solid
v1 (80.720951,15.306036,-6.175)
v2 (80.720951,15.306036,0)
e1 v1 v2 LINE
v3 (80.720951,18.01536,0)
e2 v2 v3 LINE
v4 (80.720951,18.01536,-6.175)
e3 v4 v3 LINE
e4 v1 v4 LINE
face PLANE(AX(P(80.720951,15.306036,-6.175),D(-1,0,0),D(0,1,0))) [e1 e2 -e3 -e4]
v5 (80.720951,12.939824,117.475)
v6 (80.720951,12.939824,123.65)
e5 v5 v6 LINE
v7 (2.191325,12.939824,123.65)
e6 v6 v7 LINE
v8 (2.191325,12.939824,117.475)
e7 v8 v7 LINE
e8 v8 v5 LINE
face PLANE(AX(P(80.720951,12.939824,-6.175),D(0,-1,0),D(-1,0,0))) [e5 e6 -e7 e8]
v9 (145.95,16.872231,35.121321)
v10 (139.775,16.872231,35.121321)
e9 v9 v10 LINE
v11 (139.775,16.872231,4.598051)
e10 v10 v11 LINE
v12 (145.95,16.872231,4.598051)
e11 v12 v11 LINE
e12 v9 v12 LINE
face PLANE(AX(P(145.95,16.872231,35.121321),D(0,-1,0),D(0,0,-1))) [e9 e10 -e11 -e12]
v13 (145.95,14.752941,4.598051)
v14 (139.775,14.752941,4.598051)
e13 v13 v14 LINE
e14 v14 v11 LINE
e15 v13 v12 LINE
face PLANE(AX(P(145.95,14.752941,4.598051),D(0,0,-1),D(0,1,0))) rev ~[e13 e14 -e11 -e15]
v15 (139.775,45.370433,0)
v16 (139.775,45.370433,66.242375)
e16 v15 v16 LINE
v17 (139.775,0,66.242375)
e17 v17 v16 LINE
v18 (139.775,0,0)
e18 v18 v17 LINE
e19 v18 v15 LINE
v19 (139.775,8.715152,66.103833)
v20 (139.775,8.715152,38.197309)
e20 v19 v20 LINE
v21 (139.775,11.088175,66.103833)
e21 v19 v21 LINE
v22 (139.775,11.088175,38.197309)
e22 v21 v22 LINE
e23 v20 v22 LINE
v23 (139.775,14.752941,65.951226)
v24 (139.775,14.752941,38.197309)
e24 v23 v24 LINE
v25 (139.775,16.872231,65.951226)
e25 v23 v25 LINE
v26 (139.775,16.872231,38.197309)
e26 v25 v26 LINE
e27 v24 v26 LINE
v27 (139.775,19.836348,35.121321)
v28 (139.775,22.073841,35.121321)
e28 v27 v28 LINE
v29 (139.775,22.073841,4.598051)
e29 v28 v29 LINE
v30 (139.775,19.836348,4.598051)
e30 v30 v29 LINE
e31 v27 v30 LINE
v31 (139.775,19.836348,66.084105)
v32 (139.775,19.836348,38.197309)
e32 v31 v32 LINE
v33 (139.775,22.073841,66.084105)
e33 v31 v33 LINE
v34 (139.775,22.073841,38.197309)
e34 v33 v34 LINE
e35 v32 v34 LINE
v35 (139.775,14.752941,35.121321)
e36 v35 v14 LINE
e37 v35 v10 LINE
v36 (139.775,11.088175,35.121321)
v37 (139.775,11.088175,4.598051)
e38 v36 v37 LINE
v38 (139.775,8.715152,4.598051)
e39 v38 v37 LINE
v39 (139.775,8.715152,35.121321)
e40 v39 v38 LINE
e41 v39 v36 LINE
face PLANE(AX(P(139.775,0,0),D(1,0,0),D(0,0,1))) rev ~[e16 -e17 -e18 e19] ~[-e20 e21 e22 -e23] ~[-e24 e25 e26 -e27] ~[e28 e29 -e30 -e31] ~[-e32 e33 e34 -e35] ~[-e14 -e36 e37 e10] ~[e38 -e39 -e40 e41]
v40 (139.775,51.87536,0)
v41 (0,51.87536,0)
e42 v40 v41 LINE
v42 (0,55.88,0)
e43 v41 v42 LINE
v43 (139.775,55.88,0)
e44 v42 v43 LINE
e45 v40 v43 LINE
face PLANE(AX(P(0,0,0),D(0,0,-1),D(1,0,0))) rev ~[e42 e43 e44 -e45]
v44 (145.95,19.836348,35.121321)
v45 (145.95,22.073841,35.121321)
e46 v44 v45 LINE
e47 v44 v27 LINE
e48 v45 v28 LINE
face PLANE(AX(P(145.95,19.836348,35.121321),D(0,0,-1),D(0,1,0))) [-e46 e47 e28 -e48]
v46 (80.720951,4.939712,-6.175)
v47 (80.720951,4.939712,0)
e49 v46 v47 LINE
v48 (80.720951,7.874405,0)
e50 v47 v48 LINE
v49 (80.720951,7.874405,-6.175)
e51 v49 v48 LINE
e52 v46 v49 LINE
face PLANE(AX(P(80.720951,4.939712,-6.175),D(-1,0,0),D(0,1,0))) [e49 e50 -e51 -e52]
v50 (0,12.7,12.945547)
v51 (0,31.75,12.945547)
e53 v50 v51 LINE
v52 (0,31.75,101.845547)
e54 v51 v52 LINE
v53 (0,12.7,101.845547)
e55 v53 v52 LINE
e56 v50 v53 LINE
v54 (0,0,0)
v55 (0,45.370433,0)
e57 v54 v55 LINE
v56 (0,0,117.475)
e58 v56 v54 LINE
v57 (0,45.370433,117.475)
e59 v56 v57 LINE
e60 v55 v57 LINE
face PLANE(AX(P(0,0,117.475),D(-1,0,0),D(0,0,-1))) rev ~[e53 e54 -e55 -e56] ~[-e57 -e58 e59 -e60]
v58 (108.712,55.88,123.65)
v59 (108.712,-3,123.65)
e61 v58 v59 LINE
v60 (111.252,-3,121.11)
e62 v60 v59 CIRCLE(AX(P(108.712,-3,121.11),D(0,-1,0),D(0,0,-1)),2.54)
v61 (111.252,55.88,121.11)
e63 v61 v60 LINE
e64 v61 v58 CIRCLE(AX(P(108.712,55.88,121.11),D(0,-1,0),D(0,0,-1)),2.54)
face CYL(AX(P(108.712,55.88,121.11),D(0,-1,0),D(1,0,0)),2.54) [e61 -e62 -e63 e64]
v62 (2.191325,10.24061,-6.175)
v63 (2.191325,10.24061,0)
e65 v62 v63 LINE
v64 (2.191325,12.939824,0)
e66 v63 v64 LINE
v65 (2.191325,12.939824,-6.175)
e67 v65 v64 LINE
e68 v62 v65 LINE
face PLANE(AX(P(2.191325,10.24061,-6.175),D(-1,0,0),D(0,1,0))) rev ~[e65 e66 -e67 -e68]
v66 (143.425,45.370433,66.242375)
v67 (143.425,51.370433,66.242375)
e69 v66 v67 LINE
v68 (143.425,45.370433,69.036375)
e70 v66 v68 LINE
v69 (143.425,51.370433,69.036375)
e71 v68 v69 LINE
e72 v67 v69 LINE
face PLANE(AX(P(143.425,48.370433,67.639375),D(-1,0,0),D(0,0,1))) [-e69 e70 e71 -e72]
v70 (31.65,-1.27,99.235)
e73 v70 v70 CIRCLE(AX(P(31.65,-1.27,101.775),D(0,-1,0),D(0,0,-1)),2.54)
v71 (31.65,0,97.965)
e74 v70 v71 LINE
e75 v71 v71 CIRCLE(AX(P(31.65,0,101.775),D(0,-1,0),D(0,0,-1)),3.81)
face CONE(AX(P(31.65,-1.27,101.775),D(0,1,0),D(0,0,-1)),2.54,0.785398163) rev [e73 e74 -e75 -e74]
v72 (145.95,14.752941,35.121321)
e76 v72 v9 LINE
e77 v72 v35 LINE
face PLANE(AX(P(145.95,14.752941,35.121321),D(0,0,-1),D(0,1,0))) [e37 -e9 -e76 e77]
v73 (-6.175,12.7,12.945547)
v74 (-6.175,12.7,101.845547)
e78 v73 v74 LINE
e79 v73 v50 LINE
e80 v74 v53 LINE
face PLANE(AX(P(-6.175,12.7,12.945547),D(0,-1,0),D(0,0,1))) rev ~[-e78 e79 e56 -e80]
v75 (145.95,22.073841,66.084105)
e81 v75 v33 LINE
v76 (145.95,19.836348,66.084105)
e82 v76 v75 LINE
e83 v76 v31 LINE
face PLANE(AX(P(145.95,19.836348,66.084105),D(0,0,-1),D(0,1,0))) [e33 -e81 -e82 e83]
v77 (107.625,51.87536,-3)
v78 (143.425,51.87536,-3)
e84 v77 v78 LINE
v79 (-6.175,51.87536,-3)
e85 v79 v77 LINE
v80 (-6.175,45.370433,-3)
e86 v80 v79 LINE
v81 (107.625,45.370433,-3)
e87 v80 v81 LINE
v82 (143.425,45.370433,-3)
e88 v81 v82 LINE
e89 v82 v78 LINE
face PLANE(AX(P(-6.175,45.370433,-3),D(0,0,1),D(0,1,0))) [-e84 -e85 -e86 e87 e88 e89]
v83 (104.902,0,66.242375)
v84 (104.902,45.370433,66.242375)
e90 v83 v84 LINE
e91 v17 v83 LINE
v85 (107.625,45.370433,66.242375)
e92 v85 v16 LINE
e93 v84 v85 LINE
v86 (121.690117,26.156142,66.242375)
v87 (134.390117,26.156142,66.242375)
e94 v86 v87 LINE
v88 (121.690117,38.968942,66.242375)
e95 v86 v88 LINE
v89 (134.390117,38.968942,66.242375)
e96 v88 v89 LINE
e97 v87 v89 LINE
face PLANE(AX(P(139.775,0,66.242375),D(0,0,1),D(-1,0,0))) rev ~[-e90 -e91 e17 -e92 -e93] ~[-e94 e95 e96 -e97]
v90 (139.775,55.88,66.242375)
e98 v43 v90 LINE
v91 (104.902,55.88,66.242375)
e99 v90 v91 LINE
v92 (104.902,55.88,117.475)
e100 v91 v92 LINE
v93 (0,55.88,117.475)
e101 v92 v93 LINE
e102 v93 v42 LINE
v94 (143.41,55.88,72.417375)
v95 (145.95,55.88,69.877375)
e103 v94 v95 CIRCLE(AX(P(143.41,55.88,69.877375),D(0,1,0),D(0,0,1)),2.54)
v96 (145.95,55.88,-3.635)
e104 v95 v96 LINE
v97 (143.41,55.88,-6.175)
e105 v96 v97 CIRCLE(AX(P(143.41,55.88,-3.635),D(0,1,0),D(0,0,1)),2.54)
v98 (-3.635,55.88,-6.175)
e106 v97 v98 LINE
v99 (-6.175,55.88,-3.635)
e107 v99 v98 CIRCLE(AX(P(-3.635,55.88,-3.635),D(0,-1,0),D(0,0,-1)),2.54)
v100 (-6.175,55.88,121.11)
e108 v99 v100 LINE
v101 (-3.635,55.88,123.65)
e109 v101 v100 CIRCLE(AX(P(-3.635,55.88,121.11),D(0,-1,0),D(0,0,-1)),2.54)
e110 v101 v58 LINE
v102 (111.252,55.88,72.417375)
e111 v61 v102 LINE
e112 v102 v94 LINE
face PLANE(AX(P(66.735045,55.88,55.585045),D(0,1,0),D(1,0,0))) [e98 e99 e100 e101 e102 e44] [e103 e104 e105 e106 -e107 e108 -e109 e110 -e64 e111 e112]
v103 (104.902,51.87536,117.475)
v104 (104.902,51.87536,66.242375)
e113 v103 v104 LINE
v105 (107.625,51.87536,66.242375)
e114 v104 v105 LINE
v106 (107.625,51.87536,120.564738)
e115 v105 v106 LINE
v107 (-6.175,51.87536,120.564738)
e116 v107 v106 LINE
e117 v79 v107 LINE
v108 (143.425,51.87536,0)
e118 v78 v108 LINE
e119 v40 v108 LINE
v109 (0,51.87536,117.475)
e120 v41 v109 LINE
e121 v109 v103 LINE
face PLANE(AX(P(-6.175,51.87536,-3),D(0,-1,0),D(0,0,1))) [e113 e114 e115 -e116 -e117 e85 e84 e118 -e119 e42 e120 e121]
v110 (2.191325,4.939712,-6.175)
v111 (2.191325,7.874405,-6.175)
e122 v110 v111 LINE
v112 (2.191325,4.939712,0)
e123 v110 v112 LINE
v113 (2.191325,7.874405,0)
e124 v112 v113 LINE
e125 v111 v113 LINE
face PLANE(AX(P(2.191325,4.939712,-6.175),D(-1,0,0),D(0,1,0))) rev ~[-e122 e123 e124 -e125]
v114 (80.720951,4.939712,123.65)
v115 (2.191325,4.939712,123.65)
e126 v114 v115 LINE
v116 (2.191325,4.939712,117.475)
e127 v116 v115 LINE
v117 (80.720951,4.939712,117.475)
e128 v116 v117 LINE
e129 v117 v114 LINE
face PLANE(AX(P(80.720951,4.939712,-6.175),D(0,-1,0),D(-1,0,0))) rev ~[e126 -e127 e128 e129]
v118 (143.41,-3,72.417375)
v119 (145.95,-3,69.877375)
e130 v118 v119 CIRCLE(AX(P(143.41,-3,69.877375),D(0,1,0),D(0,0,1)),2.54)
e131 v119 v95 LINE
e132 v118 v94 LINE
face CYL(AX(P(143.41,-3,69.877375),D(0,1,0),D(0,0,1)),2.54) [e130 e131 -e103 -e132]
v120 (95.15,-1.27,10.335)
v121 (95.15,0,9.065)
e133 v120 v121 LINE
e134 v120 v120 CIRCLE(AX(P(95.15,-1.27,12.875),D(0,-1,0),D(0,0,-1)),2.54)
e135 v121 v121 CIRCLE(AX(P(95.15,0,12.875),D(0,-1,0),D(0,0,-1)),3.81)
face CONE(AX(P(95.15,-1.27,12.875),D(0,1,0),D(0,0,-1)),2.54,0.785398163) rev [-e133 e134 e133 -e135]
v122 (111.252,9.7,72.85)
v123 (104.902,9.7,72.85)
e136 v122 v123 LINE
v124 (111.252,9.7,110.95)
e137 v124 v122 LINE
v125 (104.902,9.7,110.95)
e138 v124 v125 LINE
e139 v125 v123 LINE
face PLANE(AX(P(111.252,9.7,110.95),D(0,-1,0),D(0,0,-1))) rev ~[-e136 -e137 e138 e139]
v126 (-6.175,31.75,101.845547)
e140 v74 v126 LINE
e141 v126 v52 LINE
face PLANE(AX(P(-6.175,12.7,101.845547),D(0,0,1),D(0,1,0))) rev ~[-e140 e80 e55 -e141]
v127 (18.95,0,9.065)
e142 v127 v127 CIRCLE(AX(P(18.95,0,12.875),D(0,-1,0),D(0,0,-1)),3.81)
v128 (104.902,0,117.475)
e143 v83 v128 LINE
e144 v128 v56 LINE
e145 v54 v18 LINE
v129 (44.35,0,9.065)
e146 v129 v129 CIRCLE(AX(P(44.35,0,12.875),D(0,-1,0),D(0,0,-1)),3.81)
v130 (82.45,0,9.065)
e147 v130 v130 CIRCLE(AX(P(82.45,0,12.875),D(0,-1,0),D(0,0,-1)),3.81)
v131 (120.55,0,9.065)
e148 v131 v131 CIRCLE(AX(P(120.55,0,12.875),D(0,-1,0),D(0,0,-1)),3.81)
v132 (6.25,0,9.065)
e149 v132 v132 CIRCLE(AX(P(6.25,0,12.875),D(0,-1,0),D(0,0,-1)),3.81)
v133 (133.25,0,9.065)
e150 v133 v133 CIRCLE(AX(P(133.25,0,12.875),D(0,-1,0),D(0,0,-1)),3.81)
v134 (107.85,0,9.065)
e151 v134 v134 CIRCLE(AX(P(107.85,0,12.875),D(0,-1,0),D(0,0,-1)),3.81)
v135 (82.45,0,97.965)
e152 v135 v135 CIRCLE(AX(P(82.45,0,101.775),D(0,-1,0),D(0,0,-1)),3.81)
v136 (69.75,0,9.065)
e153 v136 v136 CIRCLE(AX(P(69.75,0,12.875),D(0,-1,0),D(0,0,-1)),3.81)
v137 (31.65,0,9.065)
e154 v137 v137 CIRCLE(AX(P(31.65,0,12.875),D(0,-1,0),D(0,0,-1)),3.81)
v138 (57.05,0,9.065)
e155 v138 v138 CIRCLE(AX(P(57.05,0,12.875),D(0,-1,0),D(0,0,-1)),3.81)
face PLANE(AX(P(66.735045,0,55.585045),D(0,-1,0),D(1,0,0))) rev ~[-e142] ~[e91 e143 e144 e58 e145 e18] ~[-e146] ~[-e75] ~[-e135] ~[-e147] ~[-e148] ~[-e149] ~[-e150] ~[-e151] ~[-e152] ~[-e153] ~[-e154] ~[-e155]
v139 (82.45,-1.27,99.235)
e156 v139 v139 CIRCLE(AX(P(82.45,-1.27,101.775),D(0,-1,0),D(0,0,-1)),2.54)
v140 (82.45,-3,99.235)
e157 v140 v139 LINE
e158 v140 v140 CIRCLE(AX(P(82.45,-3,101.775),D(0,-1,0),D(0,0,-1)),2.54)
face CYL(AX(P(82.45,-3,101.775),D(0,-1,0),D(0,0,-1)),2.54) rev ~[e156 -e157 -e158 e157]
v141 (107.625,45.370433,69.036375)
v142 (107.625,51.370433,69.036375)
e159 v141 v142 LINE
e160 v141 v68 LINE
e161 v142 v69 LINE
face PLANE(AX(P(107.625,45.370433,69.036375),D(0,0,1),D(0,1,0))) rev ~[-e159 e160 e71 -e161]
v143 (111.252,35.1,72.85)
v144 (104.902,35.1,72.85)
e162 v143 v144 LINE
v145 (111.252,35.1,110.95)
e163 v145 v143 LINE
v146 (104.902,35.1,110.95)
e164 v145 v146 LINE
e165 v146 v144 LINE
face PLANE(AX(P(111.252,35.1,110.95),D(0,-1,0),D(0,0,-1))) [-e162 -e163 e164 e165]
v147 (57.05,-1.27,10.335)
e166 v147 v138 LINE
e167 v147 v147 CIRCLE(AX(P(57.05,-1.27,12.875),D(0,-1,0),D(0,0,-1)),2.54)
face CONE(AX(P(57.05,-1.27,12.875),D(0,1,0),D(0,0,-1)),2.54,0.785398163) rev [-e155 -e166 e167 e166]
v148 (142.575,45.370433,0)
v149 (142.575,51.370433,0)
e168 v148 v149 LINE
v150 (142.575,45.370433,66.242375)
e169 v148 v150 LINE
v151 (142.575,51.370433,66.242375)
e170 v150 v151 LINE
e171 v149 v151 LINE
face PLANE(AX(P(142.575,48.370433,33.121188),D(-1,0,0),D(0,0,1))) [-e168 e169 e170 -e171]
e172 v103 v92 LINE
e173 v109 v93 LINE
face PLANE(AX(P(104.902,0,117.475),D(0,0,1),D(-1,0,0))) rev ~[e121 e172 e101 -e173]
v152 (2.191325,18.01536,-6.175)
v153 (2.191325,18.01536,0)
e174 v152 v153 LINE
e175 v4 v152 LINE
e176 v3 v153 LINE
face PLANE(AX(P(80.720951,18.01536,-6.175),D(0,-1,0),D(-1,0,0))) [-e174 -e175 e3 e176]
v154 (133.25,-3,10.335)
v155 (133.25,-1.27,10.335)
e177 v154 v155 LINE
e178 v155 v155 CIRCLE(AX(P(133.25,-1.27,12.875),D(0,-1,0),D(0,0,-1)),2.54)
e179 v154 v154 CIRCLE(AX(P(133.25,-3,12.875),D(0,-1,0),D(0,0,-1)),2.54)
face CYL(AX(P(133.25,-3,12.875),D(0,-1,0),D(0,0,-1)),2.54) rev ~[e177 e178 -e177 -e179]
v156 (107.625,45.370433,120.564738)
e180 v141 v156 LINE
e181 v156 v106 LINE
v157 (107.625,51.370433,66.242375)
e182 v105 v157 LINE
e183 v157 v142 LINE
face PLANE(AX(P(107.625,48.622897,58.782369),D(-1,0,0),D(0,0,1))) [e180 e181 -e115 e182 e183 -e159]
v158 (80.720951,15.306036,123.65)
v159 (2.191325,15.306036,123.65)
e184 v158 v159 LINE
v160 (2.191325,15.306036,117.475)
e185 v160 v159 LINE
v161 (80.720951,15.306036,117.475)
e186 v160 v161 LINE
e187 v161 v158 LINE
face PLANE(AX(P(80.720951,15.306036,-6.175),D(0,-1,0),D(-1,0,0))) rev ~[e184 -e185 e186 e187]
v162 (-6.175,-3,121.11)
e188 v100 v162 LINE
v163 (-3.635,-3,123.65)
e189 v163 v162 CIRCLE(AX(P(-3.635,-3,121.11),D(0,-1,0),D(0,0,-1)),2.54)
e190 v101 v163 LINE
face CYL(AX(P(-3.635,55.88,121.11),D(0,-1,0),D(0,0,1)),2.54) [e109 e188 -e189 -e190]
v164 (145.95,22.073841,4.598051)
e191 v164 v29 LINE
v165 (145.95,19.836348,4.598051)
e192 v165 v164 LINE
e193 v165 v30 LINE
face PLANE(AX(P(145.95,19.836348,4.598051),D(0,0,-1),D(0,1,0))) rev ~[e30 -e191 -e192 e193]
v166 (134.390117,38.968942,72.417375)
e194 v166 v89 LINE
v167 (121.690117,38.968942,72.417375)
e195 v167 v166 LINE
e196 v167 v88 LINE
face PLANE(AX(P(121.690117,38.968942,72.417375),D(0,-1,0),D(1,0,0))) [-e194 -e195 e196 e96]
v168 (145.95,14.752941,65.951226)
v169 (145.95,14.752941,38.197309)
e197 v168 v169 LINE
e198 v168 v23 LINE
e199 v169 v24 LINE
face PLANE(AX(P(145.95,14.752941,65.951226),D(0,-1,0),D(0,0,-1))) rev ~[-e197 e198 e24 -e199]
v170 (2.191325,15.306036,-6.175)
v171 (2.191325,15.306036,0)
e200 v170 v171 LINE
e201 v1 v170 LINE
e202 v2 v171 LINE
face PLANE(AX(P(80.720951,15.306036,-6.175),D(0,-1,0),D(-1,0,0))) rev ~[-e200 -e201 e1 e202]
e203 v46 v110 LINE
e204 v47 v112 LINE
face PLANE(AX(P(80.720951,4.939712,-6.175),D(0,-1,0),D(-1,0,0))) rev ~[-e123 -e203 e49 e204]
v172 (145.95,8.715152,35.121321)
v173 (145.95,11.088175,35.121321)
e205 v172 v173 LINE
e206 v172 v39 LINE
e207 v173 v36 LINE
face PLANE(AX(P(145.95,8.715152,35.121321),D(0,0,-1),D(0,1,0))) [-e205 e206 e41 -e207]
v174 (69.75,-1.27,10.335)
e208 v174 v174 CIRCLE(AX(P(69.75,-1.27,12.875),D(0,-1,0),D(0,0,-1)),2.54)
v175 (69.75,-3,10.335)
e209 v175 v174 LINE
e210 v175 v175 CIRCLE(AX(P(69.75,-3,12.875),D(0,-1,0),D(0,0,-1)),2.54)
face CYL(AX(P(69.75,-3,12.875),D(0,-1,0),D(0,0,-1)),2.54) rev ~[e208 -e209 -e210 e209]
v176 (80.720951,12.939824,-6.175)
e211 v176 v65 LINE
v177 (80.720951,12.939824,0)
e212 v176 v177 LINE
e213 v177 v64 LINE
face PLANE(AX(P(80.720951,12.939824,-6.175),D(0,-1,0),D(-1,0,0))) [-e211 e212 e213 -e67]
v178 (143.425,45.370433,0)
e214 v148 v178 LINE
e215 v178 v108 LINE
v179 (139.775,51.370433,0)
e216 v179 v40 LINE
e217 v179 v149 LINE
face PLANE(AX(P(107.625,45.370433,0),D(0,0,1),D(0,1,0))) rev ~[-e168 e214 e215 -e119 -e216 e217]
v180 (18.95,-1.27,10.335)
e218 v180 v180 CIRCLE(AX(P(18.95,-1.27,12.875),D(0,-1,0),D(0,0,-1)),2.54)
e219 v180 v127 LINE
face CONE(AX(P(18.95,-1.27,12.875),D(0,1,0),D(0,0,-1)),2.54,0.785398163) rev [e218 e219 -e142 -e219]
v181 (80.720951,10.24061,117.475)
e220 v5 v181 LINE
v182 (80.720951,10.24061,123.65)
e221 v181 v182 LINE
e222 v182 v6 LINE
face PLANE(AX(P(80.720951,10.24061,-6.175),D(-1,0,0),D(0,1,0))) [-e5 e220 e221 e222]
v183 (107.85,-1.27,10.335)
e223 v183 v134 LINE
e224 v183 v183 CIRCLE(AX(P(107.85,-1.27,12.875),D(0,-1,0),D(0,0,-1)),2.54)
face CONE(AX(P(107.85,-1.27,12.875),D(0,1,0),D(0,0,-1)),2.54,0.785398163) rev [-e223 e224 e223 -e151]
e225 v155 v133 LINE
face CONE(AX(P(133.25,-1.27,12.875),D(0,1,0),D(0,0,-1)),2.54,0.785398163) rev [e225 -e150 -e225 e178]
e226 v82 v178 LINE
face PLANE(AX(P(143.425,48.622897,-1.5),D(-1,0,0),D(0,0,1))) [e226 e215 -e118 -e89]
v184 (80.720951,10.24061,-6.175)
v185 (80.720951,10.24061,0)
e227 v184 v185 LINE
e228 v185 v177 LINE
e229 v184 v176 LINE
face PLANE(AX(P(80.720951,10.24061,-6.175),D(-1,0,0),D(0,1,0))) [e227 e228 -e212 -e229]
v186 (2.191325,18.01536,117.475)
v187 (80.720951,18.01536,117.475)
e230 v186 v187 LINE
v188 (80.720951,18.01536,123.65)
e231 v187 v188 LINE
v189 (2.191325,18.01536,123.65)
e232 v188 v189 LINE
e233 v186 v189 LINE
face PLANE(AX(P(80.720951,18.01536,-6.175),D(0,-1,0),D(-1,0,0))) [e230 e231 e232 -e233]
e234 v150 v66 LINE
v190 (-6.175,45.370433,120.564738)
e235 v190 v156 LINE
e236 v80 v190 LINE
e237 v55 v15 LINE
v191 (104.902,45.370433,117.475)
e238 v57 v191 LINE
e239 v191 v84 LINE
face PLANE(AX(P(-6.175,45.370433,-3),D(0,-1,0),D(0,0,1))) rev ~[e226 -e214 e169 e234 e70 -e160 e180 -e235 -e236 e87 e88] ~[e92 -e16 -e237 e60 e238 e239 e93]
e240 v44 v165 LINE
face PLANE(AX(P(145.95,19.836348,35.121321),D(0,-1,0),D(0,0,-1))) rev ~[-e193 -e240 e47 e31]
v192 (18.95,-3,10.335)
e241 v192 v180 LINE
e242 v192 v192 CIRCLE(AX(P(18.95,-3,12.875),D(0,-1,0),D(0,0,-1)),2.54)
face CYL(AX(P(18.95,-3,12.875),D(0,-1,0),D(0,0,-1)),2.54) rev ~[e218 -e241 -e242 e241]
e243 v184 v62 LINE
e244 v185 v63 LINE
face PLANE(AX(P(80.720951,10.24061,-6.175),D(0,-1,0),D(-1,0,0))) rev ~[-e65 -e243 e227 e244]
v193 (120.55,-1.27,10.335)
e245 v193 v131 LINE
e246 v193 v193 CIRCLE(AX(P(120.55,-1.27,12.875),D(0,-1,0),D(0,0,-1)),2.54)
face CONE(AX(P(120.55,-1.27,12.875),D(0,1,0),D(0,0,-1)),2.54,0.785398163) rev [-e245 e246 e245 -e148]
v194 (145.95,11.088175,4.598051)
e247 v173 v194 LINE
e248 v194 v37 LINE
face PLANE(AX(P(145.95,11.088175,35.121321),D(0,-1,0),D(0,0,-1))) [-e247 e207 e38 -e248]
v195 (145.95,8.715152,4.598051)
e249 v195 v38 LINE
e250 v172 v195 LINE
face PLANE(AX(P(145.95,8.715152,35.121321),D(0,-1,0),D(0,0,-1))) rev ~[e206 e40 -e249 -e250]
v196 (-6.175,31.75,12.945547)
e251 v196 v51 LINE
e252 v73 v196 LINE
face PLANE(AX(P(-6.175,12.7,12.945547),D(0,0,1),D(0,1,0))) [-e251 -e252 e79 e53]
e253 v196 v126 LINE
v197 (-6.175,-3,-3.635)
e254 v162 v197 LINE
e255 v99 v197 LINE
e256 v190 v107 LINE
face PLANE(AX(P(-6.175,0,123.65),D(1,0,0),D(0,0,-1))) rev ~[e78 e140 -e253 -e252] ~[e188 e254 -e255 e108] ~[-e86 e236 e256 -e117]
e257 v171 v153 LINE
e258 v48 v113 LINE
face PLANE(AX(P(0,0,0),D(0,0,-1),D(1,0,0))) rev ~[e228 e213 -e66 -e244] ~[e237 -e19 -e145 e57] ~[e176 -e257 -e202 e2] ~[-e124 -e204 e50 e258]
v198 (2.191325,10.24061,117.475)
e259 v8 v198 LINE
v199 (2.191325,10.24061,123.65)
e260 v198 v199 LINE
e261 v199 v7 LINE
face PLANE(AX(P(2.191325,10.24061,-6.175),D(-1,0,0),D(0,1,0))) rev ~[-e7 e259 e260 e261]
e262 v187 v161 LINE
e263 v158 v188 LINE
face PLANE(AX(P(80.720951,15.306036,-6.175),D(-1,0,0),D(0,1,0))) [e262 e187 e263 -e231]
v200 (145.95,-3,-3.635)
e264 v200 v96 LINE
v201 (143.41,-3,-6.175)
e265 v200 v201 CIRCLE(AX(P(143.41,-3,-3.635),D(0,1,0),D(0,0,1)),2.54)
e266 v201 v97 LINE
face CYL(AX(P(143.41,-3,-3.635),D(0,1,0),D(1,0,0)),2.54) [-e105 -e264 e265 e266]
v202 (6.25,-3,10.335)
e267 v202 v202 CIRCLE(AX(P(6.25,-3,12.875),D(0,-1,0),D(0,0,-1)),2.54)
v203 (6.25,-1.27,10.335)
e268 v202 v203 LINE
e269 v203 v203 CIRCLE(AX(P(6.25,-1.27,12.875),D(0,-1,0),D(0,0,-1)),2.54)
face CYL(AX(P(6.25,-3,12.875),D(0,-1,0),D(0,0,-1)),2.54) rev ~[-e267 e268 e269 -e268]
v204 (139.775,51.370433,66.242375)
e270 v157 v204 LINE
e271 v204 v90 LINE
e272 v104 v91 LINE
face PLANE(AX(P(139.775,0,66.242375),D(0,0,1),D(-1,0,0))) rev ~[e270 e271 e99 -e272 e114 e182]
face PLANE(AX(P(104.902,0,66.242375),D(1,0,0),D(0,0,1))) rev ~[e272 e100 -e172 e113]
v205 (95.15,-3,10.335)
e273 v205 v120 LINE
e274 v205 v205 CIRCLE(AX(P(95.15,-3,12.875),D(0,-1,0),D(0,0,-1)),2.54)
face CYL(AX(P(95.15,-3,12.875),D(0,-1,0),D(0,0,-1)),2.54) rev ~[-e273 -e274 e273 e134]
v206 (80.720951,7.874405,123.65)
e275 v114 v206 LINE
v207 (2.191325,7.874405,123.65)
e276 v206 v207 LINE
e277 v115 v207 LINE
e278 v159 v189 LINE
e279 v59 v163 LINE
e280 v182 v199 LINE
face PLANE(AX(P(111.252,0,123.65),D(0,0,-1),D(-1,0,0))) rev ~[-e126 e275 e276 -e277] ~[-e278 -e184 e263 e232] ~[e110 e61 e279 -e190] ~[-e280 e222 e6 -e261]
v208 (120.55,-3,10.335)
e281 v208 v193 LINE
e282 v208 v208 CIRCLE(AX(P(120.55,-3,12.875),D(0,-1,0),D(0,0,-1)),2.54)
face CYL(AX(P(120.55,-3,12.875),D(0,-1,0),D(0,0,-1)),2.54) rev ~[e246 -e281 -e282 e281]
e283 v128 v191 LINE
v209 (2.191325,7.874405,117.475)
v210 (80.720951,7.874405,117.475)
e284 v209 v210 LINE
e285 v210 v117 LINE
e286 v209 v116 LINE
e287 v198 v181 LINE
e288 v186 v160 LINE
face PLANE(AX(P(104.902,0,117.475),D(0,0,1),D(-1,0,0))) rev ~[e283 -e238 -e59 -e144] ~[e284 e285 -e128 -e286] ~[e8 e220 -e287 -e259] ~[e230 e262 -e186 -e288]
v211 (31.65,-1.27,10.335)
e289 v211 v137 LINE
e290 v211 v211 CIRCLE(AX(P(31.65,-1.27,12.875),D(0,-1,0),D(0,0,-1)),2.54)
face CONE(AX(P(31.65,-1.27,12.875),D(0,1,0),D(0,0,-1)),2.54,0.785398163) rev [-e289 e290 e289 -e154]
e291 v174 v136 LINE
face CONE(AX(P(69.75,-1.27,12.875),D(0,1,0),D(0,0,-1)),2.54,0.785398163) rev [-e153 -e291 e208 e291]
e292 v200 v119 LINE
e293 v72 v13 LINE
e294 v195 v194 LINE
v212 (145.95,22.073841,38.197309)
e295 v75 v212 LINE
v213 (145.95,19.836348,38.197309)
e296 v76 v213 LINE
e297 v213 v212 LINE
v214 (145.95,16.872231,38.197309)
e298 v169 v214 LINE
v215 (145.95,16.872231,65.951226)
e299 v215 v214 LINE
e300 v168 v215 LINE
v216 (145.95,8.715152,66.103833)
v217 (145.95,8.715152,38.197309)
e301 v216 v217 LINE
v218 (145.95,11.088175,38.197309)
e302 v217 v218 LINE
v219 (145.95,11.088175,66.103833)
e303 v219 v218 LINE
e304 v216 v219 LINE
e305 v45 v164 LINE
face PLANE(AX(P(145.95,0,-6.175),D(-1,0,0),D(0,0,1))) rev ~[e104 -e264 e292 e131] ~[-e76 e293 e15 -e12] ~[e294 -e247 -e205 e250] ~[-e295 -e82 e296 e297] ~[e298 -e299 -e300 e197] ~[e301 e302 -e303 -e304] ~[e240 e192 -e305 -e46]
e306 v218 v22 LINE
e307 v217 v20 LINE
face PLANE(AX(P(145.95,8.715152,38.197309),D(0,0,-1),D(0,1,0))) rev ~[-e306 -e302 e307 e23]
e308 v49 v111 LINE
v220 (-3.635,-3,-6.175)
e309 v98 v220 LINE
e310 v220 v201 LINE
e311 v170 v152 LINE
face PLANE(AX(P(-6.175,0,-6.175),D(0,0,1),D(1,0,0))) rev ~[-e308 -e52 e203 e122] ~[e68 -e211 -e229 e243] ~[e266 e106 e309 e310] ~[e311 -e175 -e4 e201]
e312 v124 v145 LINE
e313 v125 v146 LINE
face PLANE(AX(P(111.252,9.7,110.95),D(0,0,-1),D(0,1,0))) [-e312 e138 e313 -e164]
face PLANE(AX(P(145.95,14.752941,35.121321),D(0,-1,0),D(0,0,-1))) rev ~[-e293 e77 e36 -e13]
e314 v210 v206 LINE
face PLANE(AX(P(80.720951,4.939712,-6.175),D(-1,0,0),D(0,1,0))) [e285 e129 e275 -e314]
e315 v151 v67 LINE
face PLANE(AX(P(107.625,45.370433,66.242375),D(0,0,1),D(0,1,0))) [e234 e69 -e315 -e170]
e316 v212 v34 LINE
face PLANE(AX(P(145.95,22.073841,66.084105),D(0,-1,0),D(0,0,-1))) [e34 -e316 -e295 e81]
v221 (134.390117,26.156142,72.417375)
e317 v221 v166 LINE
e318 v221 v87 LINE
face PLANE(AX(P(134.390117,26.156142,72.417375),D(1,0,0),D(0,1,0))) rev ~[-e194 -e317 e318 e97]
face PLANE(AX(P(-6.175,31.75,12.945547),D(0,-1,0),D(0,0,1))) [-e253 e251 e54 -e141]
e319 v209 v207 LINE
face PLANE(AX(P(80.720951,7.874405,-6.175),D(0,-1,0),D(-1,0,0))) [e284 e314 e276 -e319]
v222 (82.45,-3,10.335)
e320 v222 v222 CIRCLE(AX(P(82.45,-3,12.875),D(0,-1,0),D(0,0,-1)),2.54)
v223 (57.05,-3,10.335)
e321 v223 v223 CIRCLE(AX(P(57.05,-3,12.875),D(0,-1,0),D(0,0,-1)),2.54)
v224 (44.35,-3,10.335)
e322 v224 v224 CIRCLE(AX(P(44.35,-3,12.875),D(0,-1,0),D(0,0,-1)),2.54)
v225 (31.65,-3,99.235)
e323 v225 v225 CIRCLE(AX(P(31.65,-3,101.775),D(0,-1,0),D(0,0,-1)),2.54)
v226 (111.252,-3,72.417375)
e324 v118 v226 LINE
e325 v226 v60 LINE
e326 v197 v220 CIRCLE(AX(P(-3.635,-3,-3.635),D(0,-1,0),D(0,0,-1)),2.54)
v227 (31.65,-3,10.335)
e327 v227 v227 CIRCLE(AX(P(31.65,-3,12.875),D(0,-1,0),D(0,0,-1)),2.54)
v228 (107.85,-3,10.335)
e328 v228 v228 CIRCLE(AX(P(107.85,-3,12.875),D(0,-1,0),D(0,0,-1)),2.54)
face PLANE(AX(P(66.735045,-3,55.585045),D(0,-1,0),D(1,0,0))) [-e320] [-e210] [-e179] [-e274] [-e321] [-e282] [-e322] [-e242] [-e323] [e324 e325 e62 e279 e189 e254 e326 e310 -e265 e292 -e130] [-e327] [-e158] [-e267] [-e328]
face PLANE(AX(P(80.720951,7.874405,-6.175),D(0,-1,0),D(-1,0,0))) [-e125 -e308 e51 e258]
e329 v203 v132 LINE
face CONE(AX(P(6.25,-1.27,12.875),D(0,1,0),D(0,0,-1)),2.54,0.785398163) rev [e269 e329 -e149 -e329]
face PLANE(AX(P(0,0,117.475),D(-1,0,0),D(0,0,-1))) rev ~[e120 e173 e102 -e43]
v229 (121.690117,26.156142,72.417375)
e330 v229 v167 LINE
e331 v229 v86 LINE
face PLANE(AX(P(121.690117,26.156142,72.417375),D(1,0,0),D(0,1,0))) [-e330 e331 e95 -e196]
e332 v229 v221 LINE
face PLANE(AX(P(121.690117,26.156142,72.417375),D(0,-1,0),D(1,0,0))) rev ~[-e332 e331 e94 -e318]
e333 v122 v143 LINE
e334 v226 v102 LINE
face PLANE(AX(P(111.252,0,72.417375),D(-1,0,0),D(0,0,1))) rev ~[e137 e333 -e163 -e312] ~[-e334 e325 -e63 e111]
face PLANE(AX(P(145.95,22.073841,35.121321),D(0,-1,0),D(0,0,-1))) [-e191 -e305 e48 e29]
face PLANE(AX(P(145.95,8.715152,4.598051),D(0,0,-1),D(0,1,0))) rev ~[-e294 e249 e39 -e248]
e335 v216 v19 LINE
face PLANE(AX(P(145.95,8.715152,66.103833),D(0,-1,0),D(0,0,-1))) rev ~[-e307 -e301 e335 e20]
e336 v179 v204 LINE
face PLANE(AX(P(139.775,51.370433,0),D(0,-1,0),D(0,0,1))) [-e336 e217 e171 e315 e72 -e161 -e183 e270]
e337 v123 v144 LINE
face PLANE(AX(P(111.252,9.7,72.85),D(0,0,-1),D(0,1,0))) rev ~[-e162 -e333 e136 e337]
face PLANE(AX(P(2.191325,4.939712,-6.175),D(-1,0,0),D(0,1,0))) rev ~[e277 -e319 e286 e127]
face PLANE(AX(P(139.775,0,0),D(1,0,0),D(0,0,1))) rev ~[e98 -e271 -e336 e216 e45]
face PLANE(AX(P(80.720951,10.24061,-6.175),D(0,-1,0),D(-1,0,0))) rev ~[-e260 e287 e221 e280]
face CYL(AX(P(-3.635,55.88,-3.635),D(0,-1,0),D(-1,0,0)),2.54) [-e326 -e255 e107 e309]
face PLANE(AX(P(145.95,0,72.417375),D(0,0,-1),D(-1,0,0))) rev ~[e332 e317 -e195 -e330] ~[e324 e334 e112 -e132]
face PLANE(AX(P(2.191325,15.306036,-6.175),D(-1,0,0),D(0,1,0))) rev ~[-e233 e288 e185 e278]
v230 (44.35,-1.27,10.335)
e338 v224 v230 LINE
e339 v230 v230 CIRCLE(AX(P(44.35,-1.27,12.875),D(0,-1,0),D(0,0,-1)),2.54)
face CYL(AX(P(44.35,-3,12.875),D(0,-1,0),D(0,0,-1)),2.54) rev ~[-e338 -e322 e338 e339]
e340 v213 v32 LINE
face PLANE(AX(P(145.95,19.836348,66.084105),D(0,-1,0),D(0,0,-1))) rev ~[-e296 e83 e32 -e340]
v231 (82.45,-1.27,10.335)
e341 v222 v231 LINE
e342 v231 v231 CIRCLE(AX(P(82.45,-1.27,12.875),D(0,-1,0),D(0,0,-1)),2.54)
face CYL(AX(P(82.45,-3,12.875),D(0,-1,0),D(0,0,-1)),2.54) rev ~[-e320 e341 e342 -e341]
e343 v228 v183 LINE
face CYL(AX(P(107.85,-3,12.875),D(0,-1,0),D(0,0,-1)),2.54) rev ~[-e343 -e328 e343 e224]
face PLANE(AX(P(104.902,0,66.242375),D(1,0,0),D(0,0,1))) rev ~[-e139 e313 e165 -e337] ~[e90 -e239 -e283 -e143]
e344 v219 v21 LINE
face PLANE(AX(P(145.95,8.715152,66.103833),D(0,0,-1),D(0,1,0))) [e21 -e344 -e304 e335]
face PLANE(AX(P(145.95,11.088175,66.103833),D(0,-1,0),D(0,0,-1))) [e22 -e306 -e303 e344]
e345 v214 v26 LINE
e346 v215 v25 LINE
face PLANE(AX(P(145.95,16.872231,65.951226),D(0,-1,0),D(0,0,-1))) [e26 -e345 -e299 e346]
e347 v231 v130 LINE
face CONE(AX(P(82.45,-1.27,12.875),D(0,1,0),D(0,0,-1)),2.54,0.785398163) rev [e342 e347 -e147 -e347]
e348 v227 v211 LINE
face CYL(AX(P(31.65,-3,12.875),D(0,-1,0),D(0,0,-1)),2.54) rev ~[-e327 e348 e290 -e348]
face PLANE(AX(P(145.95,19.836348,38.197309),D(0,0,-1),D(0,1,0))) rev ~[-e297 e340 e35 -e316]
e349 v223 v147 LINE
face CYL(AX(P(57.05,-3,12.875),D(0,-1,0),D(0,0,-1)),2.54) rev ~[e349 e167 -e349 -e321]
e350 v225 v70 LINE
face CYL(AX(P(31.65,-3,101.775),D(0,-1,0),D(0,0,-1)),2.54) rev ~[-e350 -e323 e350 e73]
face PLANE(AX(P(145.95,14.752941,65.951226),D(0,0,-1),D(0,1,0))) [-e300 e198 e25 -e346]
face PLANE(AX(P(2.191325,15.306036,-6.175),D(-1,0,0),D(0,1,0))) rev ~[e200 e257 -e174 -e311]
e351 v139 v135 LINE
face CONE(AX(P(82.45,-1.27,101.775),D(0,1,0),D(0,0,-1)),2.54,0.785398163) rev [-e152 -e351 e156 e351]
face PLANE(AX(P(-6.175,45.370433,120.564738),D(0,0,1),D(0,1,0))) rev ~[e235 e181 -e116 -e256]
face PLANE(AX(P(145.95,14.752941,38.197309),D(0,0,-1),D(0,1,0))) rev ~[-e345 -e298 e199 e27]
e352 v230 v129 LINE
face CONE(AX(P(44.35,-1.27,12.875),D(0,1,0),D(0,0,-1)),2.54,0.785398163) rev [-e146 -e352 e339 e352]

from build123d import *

# Parameters (mm, degrees)
BOSS_EXTRUDE1_DEPTH = 55.88
SKETCH25_W          = 88.9
SKETCH25_H          = 19.05
CUT_EXTRUDE9_DEPTH  = 45
SKETCH26_W          = 30.523269702
SKETCH26_H          = 2.237493103
SKETCH26_W_2        = 27.906523593
SKETCH26_H_2        = 2.373023229
SKETCH26_W_3        = 27.753916876
SKETCH26_H_3        = 2.119290111
SKETCH26_W_4        = 27.886795766
CUT_EXTRUDE10_DEPTH = 45
SKETCH27_W          = 78.529626093
SKETCH27_H          = 2.934693649
SKETCH27_H_2        = 2.6992147
SKETCH27_H_3        = 2.709324196
CUT_EXTRUDE11_DEPTH = 254
SKETCH23_W          = 12.7
SKETCH23_H          = 12.812800452
CUT_EXTRUDE12_DEPTH = 50.8
SKETCH31_W          = 123.564738067
SKETCH31_H          = 6.504927573
CUT_EXTRUDE13_DEPTH = 113.8
SKETCH34_W          = 2.794
SKETCH34_H          = 6
SKETCH34_W_2        = 3
SKETCH34_H_2        = 6.504927573
CUT_EXTRUDE14_DEPTH = 35.8
SKETCH35_W          = 66.242375008
SKETCH35_H          = 6
CUT_EXTRUDE15_DEPTH = 2.8
BOSS_EXTRUDE2_DEPTH = 3
SKETCH38_W          = 38.1
SKETCH38_H          = 25.4
CUT_EXTRUDE17_DEPTH = 10.16
FILLET1_R           = 2.54
SKETCH37_R          = 2.54
CUT_EXTRUDE18_DEPTH = 5.842
CHAMFER1_SIZE       = 1.27


with BuildPart() as part:
    # Sketch1 → Boss-Extrude1 (new body)
    with BuildSketch(Plane(origin=(0, 0, 0), x_dir=(1, 0, 0), z_dir=(0, 1, 0))):
        Polygon((104.775, 6.175), (-6.175, 6.175), (-6.175, -123.65), (104.902, -123.65), (111.252, -123.65), (111.252, -72.417375008), (145.95, -72.417375008), (145.95, 6.175), align=None)
        Polygon((0, 0), (104.775, 0), (139.775, 0), (139.775, -66.242375008), (107.949403386, -66.242375008), (104.902, -66.242375008), (104.902, -117.475), (0, -117.475), align=None, mode=Mode.SUBTRACT)
    extrude(amount=BOSS_EXTRUDE1_DEPTH)

    # Sketch25 → Cut-Extrude9 (cut)
    with BuildSketch(Plane.ZY.offset(6.175)):
        with Locations((57.39554729, 22.225)):
            Rectangle(SKETCH25_W, SKETCH25_H)
    extrude(amount=-CUT_EXTRUDE9_DEPTH, mode=Mode.SUBTRACT)

    # Sketch26 → Cut-Extrude10 (cut)
    with BuildSketch(Plane(origin=(145.95, 0, 0), x_dir=(0, 0, -1), z_dir=(1, 0, 0))):
        with Locations((-19.859686164, 20.955094684)):
            Rectangle(SKETCH26_W, SKETCH26_H)
        with Locations((-52.150571232, 9.901663162)):
            Rectangle(SKETCH26_W_2, SKETCH26_H_2)
        with Locations((-19.859686164, 9.901663162)):
            Rectangle(SKETCH26_W, SKETCH26_H_2)
        with Locations((-52.074267873, 15.812585987)):
            Rectangle(SKETCH26_W_3, SKETCH26_H_3)
        with Locations((-19.859686164, 15.812585987)):
            Rectangle(SKETCH26_W, SKETCH26_H_3)
        with Locations((-52.140707318, 20.955094684)):
            Rectangle(SKETCH26_W_4, SKETCH26_H)
    extrude(amount=-CUT_EXTRUDE10_DEPTH, mode=Mode.SUBTRACT)

    # Sketch27 → Cut-Extrude11 (cut)
    with BuildSketch(Plane(origin=(0, 0, -6.175), x_dir=(-1, 0, 0), z_dir=(0, 0, -1))):
        with Locations((-41.456138019, 6.407058623)):
            Rectangle(SKETCH27_W, SKETCH27_H)
        with Locations((-41.456138019, 11.590217132)):
            Rectangle(SKETCH27_W, SKETCH27_H_2)
        with Locations((-41.456138019, 16.660698202)):
            Rectangle(SKETCH27_W, SKETCH27_H_3)
    extrude(amount=-CUT_EXTRUDE11_DEPTH, mode=Mode.SUBTRACT)

    # Sketch23 → Cut-Extrude12 (cut)
    with BuildSketch(Plane.XY.offset(72.417375008)):
        with Locations((128.04011729, 32.5625418)):
            Rectangle(SKETCH23_W, SKETCH23_H)
    extrude(amount=-CUT_EXTRUDE12_DEPTH, mode=Mode.SUBTRACT)

    # Sketch31 → Cut-Extrude13 (cut)
    with BuildSketch(Plane.ZY.offset(6.175)):
        with Locations((58.782369034, 48.622896581)):
            Rectangle(SKETCH31_W, SKETCH31_H)
    extrude(amount=-CUT_EXTRUDE13_DEPTH, mode=Mode.SUBTRACT)

    # Sketch34 → Cut-Extrude14 (cut)
    with BuildSketch(Plane.ZY.offset(-107.625)):
        with Locations((67.639375008, 48.370432794)):
            Rectangle(SKETCH34_W, SKETCH34_H)
        with Locations((-1.5, 48.622896581)):
            Rectangle(SKETCH34_W_2, SKETCH34_H_2)
    extrude(amount=-CUT_EXTRUDE14_DEPTH, mode=Mode.SUBTRACT)

    # Sketch35 → Cut-Extrude15 (cut)
    with BuildSketch(Plane.ZY.offset(-139.775)):
        with Locations((33.121187504, 48.370432794)):
            Rectangle(SKETCH35_W, SKETCH35_H)
    extrude(amount=-CUT_EXTRUDE15_DEPTH, mode=Mode.SUBTRACT)

    # Sketch36 → Boss-Extrude2 (add)
    with BuildSketch(Plane.XZ):
        Polygon((111.252, 72.417375008), (111.252, 123.65), (-6.175, 123.65), (-6.175, -6.175), (145.95, -6.175), (145.95, 72.417375008), align=None)
    extrude(amount=BOSS_EXTRUDE2_DEPTH)

    # Sketch38 → Cut-Extrude17 (cut)
    with BuildSketch(Plane(origin=(111.252, 0, 0), x_dir=(0, 0, -1), z_dir=(1, 0, 0))):
        with Locations((-91.9, 22.4)):
            Rectangle(SKETCH38_W, SKETCH38_H)
    extrude(amount=-CUT_EXTRUDE17_DEPTH, mode=Mode.SUBTRACT)

    # Fillet1
    fillet1_edges = [part.edges().sort_by_distance(p)[0] for p in [
        (145.95, 26.44, -6.175),
        (145.95, 26.44, 72.417375008),
        (111.252, 26.44, 123.65),
        (-6.175, 26.44, 123.65),
        (-6.175, 26.44, -6.175),
    ]]
    fillet(fillet1_edges, radius=FILLET1_R)

    # Sketch37 → Cut-Extrude18 (cut)
    with BuildSketch(Plane(origin=(145.95, -3, 72.417375008), x_dir=(1, 0, 0), z_dir=(0, -1, 0))):
        with Locations(Location((-12.7, -59.542375008, 0), (0, 0, 270))):
            Circle(SKETCH37_R)
        with Locations(Location((-63.5, 29.357624992, 0), (0, 0, 270))):
            Circle(SKETCH37_R)
        with Locations(Location((-114.3, 29.357624992, 0), (0, 0, 270))):
            Circle(SKETCH37_R)
        with Locations(Location((-25.4, -59.542375008, 0), (0, 0, 270))):
            Circle(SKETCH37_R)
        with Locations(Location((-38.1, -59.542375008, 0), (0, 0, 270))):
            Circle(SKETCH37_R)
        with Locations(Location((-50.8, -59.542375008, 0), (0, 0, 270))):
            Circle(SKETCH37_R)
        with Locations(Location((-63.5, -59.542375008, 0), (0, 0, 270))):
            Circle(SKETCH37_R)
        with Locations(Location((-76.2, -59.542375008, 0), (0, 0, 270))):
            Circle(SKETCH37_R)
        with Locations(Location((-88.9, -59.542375008, 0), (0, 0, 270))):
            Circle(SKETCH37_R)
        with Locations(Location((-101.6, -59.542375008, 0), (0, 0, 270))):
            Circle(SKETCH37_R)
        with Locations(Location((-114.3, -59.542375008, 0), (0, 0, 270))):
            Circle(SKETCH37_R)
        with Locations(Location((-127, -59.542375008, 0), (0, 0, 270))):
            Circle(SKETCH37_R)
        with Locations(Location((-139.7, -59.542375008, 0), (0, 0, 270))):
            Circle(SKETCH37_R)
    extrude(amount=-CUT_EXTRUDE18_DEPTH, mode=Mode.SUBTRACT)

    # Chamfer1
    chamfer1_edges = [part.edges().sort_by_distance(p)[0] for p in [
        (133.25, 0, 15.415),
        (6.25, 0, 15.415),
        (18.95, 0, 15.415),
        (31.65, 0, 15.415),
        (44.35, 0, 15.415),
        (82.45, 0, 104.315),
        (31.65, 0, 104.315),
        (120.55, 0, 15.415),
        (107.85, 0, 15.415),
        (95.15, 0, 15.415),
        (82.45, 0, 15.415),
        (69.75, 0, 15.415),
        (57.05, 0, 15.415),
    ]]
    chamfer(chamfer1_edges, length=CHAMFER1_SIZE)


solid = part.part
